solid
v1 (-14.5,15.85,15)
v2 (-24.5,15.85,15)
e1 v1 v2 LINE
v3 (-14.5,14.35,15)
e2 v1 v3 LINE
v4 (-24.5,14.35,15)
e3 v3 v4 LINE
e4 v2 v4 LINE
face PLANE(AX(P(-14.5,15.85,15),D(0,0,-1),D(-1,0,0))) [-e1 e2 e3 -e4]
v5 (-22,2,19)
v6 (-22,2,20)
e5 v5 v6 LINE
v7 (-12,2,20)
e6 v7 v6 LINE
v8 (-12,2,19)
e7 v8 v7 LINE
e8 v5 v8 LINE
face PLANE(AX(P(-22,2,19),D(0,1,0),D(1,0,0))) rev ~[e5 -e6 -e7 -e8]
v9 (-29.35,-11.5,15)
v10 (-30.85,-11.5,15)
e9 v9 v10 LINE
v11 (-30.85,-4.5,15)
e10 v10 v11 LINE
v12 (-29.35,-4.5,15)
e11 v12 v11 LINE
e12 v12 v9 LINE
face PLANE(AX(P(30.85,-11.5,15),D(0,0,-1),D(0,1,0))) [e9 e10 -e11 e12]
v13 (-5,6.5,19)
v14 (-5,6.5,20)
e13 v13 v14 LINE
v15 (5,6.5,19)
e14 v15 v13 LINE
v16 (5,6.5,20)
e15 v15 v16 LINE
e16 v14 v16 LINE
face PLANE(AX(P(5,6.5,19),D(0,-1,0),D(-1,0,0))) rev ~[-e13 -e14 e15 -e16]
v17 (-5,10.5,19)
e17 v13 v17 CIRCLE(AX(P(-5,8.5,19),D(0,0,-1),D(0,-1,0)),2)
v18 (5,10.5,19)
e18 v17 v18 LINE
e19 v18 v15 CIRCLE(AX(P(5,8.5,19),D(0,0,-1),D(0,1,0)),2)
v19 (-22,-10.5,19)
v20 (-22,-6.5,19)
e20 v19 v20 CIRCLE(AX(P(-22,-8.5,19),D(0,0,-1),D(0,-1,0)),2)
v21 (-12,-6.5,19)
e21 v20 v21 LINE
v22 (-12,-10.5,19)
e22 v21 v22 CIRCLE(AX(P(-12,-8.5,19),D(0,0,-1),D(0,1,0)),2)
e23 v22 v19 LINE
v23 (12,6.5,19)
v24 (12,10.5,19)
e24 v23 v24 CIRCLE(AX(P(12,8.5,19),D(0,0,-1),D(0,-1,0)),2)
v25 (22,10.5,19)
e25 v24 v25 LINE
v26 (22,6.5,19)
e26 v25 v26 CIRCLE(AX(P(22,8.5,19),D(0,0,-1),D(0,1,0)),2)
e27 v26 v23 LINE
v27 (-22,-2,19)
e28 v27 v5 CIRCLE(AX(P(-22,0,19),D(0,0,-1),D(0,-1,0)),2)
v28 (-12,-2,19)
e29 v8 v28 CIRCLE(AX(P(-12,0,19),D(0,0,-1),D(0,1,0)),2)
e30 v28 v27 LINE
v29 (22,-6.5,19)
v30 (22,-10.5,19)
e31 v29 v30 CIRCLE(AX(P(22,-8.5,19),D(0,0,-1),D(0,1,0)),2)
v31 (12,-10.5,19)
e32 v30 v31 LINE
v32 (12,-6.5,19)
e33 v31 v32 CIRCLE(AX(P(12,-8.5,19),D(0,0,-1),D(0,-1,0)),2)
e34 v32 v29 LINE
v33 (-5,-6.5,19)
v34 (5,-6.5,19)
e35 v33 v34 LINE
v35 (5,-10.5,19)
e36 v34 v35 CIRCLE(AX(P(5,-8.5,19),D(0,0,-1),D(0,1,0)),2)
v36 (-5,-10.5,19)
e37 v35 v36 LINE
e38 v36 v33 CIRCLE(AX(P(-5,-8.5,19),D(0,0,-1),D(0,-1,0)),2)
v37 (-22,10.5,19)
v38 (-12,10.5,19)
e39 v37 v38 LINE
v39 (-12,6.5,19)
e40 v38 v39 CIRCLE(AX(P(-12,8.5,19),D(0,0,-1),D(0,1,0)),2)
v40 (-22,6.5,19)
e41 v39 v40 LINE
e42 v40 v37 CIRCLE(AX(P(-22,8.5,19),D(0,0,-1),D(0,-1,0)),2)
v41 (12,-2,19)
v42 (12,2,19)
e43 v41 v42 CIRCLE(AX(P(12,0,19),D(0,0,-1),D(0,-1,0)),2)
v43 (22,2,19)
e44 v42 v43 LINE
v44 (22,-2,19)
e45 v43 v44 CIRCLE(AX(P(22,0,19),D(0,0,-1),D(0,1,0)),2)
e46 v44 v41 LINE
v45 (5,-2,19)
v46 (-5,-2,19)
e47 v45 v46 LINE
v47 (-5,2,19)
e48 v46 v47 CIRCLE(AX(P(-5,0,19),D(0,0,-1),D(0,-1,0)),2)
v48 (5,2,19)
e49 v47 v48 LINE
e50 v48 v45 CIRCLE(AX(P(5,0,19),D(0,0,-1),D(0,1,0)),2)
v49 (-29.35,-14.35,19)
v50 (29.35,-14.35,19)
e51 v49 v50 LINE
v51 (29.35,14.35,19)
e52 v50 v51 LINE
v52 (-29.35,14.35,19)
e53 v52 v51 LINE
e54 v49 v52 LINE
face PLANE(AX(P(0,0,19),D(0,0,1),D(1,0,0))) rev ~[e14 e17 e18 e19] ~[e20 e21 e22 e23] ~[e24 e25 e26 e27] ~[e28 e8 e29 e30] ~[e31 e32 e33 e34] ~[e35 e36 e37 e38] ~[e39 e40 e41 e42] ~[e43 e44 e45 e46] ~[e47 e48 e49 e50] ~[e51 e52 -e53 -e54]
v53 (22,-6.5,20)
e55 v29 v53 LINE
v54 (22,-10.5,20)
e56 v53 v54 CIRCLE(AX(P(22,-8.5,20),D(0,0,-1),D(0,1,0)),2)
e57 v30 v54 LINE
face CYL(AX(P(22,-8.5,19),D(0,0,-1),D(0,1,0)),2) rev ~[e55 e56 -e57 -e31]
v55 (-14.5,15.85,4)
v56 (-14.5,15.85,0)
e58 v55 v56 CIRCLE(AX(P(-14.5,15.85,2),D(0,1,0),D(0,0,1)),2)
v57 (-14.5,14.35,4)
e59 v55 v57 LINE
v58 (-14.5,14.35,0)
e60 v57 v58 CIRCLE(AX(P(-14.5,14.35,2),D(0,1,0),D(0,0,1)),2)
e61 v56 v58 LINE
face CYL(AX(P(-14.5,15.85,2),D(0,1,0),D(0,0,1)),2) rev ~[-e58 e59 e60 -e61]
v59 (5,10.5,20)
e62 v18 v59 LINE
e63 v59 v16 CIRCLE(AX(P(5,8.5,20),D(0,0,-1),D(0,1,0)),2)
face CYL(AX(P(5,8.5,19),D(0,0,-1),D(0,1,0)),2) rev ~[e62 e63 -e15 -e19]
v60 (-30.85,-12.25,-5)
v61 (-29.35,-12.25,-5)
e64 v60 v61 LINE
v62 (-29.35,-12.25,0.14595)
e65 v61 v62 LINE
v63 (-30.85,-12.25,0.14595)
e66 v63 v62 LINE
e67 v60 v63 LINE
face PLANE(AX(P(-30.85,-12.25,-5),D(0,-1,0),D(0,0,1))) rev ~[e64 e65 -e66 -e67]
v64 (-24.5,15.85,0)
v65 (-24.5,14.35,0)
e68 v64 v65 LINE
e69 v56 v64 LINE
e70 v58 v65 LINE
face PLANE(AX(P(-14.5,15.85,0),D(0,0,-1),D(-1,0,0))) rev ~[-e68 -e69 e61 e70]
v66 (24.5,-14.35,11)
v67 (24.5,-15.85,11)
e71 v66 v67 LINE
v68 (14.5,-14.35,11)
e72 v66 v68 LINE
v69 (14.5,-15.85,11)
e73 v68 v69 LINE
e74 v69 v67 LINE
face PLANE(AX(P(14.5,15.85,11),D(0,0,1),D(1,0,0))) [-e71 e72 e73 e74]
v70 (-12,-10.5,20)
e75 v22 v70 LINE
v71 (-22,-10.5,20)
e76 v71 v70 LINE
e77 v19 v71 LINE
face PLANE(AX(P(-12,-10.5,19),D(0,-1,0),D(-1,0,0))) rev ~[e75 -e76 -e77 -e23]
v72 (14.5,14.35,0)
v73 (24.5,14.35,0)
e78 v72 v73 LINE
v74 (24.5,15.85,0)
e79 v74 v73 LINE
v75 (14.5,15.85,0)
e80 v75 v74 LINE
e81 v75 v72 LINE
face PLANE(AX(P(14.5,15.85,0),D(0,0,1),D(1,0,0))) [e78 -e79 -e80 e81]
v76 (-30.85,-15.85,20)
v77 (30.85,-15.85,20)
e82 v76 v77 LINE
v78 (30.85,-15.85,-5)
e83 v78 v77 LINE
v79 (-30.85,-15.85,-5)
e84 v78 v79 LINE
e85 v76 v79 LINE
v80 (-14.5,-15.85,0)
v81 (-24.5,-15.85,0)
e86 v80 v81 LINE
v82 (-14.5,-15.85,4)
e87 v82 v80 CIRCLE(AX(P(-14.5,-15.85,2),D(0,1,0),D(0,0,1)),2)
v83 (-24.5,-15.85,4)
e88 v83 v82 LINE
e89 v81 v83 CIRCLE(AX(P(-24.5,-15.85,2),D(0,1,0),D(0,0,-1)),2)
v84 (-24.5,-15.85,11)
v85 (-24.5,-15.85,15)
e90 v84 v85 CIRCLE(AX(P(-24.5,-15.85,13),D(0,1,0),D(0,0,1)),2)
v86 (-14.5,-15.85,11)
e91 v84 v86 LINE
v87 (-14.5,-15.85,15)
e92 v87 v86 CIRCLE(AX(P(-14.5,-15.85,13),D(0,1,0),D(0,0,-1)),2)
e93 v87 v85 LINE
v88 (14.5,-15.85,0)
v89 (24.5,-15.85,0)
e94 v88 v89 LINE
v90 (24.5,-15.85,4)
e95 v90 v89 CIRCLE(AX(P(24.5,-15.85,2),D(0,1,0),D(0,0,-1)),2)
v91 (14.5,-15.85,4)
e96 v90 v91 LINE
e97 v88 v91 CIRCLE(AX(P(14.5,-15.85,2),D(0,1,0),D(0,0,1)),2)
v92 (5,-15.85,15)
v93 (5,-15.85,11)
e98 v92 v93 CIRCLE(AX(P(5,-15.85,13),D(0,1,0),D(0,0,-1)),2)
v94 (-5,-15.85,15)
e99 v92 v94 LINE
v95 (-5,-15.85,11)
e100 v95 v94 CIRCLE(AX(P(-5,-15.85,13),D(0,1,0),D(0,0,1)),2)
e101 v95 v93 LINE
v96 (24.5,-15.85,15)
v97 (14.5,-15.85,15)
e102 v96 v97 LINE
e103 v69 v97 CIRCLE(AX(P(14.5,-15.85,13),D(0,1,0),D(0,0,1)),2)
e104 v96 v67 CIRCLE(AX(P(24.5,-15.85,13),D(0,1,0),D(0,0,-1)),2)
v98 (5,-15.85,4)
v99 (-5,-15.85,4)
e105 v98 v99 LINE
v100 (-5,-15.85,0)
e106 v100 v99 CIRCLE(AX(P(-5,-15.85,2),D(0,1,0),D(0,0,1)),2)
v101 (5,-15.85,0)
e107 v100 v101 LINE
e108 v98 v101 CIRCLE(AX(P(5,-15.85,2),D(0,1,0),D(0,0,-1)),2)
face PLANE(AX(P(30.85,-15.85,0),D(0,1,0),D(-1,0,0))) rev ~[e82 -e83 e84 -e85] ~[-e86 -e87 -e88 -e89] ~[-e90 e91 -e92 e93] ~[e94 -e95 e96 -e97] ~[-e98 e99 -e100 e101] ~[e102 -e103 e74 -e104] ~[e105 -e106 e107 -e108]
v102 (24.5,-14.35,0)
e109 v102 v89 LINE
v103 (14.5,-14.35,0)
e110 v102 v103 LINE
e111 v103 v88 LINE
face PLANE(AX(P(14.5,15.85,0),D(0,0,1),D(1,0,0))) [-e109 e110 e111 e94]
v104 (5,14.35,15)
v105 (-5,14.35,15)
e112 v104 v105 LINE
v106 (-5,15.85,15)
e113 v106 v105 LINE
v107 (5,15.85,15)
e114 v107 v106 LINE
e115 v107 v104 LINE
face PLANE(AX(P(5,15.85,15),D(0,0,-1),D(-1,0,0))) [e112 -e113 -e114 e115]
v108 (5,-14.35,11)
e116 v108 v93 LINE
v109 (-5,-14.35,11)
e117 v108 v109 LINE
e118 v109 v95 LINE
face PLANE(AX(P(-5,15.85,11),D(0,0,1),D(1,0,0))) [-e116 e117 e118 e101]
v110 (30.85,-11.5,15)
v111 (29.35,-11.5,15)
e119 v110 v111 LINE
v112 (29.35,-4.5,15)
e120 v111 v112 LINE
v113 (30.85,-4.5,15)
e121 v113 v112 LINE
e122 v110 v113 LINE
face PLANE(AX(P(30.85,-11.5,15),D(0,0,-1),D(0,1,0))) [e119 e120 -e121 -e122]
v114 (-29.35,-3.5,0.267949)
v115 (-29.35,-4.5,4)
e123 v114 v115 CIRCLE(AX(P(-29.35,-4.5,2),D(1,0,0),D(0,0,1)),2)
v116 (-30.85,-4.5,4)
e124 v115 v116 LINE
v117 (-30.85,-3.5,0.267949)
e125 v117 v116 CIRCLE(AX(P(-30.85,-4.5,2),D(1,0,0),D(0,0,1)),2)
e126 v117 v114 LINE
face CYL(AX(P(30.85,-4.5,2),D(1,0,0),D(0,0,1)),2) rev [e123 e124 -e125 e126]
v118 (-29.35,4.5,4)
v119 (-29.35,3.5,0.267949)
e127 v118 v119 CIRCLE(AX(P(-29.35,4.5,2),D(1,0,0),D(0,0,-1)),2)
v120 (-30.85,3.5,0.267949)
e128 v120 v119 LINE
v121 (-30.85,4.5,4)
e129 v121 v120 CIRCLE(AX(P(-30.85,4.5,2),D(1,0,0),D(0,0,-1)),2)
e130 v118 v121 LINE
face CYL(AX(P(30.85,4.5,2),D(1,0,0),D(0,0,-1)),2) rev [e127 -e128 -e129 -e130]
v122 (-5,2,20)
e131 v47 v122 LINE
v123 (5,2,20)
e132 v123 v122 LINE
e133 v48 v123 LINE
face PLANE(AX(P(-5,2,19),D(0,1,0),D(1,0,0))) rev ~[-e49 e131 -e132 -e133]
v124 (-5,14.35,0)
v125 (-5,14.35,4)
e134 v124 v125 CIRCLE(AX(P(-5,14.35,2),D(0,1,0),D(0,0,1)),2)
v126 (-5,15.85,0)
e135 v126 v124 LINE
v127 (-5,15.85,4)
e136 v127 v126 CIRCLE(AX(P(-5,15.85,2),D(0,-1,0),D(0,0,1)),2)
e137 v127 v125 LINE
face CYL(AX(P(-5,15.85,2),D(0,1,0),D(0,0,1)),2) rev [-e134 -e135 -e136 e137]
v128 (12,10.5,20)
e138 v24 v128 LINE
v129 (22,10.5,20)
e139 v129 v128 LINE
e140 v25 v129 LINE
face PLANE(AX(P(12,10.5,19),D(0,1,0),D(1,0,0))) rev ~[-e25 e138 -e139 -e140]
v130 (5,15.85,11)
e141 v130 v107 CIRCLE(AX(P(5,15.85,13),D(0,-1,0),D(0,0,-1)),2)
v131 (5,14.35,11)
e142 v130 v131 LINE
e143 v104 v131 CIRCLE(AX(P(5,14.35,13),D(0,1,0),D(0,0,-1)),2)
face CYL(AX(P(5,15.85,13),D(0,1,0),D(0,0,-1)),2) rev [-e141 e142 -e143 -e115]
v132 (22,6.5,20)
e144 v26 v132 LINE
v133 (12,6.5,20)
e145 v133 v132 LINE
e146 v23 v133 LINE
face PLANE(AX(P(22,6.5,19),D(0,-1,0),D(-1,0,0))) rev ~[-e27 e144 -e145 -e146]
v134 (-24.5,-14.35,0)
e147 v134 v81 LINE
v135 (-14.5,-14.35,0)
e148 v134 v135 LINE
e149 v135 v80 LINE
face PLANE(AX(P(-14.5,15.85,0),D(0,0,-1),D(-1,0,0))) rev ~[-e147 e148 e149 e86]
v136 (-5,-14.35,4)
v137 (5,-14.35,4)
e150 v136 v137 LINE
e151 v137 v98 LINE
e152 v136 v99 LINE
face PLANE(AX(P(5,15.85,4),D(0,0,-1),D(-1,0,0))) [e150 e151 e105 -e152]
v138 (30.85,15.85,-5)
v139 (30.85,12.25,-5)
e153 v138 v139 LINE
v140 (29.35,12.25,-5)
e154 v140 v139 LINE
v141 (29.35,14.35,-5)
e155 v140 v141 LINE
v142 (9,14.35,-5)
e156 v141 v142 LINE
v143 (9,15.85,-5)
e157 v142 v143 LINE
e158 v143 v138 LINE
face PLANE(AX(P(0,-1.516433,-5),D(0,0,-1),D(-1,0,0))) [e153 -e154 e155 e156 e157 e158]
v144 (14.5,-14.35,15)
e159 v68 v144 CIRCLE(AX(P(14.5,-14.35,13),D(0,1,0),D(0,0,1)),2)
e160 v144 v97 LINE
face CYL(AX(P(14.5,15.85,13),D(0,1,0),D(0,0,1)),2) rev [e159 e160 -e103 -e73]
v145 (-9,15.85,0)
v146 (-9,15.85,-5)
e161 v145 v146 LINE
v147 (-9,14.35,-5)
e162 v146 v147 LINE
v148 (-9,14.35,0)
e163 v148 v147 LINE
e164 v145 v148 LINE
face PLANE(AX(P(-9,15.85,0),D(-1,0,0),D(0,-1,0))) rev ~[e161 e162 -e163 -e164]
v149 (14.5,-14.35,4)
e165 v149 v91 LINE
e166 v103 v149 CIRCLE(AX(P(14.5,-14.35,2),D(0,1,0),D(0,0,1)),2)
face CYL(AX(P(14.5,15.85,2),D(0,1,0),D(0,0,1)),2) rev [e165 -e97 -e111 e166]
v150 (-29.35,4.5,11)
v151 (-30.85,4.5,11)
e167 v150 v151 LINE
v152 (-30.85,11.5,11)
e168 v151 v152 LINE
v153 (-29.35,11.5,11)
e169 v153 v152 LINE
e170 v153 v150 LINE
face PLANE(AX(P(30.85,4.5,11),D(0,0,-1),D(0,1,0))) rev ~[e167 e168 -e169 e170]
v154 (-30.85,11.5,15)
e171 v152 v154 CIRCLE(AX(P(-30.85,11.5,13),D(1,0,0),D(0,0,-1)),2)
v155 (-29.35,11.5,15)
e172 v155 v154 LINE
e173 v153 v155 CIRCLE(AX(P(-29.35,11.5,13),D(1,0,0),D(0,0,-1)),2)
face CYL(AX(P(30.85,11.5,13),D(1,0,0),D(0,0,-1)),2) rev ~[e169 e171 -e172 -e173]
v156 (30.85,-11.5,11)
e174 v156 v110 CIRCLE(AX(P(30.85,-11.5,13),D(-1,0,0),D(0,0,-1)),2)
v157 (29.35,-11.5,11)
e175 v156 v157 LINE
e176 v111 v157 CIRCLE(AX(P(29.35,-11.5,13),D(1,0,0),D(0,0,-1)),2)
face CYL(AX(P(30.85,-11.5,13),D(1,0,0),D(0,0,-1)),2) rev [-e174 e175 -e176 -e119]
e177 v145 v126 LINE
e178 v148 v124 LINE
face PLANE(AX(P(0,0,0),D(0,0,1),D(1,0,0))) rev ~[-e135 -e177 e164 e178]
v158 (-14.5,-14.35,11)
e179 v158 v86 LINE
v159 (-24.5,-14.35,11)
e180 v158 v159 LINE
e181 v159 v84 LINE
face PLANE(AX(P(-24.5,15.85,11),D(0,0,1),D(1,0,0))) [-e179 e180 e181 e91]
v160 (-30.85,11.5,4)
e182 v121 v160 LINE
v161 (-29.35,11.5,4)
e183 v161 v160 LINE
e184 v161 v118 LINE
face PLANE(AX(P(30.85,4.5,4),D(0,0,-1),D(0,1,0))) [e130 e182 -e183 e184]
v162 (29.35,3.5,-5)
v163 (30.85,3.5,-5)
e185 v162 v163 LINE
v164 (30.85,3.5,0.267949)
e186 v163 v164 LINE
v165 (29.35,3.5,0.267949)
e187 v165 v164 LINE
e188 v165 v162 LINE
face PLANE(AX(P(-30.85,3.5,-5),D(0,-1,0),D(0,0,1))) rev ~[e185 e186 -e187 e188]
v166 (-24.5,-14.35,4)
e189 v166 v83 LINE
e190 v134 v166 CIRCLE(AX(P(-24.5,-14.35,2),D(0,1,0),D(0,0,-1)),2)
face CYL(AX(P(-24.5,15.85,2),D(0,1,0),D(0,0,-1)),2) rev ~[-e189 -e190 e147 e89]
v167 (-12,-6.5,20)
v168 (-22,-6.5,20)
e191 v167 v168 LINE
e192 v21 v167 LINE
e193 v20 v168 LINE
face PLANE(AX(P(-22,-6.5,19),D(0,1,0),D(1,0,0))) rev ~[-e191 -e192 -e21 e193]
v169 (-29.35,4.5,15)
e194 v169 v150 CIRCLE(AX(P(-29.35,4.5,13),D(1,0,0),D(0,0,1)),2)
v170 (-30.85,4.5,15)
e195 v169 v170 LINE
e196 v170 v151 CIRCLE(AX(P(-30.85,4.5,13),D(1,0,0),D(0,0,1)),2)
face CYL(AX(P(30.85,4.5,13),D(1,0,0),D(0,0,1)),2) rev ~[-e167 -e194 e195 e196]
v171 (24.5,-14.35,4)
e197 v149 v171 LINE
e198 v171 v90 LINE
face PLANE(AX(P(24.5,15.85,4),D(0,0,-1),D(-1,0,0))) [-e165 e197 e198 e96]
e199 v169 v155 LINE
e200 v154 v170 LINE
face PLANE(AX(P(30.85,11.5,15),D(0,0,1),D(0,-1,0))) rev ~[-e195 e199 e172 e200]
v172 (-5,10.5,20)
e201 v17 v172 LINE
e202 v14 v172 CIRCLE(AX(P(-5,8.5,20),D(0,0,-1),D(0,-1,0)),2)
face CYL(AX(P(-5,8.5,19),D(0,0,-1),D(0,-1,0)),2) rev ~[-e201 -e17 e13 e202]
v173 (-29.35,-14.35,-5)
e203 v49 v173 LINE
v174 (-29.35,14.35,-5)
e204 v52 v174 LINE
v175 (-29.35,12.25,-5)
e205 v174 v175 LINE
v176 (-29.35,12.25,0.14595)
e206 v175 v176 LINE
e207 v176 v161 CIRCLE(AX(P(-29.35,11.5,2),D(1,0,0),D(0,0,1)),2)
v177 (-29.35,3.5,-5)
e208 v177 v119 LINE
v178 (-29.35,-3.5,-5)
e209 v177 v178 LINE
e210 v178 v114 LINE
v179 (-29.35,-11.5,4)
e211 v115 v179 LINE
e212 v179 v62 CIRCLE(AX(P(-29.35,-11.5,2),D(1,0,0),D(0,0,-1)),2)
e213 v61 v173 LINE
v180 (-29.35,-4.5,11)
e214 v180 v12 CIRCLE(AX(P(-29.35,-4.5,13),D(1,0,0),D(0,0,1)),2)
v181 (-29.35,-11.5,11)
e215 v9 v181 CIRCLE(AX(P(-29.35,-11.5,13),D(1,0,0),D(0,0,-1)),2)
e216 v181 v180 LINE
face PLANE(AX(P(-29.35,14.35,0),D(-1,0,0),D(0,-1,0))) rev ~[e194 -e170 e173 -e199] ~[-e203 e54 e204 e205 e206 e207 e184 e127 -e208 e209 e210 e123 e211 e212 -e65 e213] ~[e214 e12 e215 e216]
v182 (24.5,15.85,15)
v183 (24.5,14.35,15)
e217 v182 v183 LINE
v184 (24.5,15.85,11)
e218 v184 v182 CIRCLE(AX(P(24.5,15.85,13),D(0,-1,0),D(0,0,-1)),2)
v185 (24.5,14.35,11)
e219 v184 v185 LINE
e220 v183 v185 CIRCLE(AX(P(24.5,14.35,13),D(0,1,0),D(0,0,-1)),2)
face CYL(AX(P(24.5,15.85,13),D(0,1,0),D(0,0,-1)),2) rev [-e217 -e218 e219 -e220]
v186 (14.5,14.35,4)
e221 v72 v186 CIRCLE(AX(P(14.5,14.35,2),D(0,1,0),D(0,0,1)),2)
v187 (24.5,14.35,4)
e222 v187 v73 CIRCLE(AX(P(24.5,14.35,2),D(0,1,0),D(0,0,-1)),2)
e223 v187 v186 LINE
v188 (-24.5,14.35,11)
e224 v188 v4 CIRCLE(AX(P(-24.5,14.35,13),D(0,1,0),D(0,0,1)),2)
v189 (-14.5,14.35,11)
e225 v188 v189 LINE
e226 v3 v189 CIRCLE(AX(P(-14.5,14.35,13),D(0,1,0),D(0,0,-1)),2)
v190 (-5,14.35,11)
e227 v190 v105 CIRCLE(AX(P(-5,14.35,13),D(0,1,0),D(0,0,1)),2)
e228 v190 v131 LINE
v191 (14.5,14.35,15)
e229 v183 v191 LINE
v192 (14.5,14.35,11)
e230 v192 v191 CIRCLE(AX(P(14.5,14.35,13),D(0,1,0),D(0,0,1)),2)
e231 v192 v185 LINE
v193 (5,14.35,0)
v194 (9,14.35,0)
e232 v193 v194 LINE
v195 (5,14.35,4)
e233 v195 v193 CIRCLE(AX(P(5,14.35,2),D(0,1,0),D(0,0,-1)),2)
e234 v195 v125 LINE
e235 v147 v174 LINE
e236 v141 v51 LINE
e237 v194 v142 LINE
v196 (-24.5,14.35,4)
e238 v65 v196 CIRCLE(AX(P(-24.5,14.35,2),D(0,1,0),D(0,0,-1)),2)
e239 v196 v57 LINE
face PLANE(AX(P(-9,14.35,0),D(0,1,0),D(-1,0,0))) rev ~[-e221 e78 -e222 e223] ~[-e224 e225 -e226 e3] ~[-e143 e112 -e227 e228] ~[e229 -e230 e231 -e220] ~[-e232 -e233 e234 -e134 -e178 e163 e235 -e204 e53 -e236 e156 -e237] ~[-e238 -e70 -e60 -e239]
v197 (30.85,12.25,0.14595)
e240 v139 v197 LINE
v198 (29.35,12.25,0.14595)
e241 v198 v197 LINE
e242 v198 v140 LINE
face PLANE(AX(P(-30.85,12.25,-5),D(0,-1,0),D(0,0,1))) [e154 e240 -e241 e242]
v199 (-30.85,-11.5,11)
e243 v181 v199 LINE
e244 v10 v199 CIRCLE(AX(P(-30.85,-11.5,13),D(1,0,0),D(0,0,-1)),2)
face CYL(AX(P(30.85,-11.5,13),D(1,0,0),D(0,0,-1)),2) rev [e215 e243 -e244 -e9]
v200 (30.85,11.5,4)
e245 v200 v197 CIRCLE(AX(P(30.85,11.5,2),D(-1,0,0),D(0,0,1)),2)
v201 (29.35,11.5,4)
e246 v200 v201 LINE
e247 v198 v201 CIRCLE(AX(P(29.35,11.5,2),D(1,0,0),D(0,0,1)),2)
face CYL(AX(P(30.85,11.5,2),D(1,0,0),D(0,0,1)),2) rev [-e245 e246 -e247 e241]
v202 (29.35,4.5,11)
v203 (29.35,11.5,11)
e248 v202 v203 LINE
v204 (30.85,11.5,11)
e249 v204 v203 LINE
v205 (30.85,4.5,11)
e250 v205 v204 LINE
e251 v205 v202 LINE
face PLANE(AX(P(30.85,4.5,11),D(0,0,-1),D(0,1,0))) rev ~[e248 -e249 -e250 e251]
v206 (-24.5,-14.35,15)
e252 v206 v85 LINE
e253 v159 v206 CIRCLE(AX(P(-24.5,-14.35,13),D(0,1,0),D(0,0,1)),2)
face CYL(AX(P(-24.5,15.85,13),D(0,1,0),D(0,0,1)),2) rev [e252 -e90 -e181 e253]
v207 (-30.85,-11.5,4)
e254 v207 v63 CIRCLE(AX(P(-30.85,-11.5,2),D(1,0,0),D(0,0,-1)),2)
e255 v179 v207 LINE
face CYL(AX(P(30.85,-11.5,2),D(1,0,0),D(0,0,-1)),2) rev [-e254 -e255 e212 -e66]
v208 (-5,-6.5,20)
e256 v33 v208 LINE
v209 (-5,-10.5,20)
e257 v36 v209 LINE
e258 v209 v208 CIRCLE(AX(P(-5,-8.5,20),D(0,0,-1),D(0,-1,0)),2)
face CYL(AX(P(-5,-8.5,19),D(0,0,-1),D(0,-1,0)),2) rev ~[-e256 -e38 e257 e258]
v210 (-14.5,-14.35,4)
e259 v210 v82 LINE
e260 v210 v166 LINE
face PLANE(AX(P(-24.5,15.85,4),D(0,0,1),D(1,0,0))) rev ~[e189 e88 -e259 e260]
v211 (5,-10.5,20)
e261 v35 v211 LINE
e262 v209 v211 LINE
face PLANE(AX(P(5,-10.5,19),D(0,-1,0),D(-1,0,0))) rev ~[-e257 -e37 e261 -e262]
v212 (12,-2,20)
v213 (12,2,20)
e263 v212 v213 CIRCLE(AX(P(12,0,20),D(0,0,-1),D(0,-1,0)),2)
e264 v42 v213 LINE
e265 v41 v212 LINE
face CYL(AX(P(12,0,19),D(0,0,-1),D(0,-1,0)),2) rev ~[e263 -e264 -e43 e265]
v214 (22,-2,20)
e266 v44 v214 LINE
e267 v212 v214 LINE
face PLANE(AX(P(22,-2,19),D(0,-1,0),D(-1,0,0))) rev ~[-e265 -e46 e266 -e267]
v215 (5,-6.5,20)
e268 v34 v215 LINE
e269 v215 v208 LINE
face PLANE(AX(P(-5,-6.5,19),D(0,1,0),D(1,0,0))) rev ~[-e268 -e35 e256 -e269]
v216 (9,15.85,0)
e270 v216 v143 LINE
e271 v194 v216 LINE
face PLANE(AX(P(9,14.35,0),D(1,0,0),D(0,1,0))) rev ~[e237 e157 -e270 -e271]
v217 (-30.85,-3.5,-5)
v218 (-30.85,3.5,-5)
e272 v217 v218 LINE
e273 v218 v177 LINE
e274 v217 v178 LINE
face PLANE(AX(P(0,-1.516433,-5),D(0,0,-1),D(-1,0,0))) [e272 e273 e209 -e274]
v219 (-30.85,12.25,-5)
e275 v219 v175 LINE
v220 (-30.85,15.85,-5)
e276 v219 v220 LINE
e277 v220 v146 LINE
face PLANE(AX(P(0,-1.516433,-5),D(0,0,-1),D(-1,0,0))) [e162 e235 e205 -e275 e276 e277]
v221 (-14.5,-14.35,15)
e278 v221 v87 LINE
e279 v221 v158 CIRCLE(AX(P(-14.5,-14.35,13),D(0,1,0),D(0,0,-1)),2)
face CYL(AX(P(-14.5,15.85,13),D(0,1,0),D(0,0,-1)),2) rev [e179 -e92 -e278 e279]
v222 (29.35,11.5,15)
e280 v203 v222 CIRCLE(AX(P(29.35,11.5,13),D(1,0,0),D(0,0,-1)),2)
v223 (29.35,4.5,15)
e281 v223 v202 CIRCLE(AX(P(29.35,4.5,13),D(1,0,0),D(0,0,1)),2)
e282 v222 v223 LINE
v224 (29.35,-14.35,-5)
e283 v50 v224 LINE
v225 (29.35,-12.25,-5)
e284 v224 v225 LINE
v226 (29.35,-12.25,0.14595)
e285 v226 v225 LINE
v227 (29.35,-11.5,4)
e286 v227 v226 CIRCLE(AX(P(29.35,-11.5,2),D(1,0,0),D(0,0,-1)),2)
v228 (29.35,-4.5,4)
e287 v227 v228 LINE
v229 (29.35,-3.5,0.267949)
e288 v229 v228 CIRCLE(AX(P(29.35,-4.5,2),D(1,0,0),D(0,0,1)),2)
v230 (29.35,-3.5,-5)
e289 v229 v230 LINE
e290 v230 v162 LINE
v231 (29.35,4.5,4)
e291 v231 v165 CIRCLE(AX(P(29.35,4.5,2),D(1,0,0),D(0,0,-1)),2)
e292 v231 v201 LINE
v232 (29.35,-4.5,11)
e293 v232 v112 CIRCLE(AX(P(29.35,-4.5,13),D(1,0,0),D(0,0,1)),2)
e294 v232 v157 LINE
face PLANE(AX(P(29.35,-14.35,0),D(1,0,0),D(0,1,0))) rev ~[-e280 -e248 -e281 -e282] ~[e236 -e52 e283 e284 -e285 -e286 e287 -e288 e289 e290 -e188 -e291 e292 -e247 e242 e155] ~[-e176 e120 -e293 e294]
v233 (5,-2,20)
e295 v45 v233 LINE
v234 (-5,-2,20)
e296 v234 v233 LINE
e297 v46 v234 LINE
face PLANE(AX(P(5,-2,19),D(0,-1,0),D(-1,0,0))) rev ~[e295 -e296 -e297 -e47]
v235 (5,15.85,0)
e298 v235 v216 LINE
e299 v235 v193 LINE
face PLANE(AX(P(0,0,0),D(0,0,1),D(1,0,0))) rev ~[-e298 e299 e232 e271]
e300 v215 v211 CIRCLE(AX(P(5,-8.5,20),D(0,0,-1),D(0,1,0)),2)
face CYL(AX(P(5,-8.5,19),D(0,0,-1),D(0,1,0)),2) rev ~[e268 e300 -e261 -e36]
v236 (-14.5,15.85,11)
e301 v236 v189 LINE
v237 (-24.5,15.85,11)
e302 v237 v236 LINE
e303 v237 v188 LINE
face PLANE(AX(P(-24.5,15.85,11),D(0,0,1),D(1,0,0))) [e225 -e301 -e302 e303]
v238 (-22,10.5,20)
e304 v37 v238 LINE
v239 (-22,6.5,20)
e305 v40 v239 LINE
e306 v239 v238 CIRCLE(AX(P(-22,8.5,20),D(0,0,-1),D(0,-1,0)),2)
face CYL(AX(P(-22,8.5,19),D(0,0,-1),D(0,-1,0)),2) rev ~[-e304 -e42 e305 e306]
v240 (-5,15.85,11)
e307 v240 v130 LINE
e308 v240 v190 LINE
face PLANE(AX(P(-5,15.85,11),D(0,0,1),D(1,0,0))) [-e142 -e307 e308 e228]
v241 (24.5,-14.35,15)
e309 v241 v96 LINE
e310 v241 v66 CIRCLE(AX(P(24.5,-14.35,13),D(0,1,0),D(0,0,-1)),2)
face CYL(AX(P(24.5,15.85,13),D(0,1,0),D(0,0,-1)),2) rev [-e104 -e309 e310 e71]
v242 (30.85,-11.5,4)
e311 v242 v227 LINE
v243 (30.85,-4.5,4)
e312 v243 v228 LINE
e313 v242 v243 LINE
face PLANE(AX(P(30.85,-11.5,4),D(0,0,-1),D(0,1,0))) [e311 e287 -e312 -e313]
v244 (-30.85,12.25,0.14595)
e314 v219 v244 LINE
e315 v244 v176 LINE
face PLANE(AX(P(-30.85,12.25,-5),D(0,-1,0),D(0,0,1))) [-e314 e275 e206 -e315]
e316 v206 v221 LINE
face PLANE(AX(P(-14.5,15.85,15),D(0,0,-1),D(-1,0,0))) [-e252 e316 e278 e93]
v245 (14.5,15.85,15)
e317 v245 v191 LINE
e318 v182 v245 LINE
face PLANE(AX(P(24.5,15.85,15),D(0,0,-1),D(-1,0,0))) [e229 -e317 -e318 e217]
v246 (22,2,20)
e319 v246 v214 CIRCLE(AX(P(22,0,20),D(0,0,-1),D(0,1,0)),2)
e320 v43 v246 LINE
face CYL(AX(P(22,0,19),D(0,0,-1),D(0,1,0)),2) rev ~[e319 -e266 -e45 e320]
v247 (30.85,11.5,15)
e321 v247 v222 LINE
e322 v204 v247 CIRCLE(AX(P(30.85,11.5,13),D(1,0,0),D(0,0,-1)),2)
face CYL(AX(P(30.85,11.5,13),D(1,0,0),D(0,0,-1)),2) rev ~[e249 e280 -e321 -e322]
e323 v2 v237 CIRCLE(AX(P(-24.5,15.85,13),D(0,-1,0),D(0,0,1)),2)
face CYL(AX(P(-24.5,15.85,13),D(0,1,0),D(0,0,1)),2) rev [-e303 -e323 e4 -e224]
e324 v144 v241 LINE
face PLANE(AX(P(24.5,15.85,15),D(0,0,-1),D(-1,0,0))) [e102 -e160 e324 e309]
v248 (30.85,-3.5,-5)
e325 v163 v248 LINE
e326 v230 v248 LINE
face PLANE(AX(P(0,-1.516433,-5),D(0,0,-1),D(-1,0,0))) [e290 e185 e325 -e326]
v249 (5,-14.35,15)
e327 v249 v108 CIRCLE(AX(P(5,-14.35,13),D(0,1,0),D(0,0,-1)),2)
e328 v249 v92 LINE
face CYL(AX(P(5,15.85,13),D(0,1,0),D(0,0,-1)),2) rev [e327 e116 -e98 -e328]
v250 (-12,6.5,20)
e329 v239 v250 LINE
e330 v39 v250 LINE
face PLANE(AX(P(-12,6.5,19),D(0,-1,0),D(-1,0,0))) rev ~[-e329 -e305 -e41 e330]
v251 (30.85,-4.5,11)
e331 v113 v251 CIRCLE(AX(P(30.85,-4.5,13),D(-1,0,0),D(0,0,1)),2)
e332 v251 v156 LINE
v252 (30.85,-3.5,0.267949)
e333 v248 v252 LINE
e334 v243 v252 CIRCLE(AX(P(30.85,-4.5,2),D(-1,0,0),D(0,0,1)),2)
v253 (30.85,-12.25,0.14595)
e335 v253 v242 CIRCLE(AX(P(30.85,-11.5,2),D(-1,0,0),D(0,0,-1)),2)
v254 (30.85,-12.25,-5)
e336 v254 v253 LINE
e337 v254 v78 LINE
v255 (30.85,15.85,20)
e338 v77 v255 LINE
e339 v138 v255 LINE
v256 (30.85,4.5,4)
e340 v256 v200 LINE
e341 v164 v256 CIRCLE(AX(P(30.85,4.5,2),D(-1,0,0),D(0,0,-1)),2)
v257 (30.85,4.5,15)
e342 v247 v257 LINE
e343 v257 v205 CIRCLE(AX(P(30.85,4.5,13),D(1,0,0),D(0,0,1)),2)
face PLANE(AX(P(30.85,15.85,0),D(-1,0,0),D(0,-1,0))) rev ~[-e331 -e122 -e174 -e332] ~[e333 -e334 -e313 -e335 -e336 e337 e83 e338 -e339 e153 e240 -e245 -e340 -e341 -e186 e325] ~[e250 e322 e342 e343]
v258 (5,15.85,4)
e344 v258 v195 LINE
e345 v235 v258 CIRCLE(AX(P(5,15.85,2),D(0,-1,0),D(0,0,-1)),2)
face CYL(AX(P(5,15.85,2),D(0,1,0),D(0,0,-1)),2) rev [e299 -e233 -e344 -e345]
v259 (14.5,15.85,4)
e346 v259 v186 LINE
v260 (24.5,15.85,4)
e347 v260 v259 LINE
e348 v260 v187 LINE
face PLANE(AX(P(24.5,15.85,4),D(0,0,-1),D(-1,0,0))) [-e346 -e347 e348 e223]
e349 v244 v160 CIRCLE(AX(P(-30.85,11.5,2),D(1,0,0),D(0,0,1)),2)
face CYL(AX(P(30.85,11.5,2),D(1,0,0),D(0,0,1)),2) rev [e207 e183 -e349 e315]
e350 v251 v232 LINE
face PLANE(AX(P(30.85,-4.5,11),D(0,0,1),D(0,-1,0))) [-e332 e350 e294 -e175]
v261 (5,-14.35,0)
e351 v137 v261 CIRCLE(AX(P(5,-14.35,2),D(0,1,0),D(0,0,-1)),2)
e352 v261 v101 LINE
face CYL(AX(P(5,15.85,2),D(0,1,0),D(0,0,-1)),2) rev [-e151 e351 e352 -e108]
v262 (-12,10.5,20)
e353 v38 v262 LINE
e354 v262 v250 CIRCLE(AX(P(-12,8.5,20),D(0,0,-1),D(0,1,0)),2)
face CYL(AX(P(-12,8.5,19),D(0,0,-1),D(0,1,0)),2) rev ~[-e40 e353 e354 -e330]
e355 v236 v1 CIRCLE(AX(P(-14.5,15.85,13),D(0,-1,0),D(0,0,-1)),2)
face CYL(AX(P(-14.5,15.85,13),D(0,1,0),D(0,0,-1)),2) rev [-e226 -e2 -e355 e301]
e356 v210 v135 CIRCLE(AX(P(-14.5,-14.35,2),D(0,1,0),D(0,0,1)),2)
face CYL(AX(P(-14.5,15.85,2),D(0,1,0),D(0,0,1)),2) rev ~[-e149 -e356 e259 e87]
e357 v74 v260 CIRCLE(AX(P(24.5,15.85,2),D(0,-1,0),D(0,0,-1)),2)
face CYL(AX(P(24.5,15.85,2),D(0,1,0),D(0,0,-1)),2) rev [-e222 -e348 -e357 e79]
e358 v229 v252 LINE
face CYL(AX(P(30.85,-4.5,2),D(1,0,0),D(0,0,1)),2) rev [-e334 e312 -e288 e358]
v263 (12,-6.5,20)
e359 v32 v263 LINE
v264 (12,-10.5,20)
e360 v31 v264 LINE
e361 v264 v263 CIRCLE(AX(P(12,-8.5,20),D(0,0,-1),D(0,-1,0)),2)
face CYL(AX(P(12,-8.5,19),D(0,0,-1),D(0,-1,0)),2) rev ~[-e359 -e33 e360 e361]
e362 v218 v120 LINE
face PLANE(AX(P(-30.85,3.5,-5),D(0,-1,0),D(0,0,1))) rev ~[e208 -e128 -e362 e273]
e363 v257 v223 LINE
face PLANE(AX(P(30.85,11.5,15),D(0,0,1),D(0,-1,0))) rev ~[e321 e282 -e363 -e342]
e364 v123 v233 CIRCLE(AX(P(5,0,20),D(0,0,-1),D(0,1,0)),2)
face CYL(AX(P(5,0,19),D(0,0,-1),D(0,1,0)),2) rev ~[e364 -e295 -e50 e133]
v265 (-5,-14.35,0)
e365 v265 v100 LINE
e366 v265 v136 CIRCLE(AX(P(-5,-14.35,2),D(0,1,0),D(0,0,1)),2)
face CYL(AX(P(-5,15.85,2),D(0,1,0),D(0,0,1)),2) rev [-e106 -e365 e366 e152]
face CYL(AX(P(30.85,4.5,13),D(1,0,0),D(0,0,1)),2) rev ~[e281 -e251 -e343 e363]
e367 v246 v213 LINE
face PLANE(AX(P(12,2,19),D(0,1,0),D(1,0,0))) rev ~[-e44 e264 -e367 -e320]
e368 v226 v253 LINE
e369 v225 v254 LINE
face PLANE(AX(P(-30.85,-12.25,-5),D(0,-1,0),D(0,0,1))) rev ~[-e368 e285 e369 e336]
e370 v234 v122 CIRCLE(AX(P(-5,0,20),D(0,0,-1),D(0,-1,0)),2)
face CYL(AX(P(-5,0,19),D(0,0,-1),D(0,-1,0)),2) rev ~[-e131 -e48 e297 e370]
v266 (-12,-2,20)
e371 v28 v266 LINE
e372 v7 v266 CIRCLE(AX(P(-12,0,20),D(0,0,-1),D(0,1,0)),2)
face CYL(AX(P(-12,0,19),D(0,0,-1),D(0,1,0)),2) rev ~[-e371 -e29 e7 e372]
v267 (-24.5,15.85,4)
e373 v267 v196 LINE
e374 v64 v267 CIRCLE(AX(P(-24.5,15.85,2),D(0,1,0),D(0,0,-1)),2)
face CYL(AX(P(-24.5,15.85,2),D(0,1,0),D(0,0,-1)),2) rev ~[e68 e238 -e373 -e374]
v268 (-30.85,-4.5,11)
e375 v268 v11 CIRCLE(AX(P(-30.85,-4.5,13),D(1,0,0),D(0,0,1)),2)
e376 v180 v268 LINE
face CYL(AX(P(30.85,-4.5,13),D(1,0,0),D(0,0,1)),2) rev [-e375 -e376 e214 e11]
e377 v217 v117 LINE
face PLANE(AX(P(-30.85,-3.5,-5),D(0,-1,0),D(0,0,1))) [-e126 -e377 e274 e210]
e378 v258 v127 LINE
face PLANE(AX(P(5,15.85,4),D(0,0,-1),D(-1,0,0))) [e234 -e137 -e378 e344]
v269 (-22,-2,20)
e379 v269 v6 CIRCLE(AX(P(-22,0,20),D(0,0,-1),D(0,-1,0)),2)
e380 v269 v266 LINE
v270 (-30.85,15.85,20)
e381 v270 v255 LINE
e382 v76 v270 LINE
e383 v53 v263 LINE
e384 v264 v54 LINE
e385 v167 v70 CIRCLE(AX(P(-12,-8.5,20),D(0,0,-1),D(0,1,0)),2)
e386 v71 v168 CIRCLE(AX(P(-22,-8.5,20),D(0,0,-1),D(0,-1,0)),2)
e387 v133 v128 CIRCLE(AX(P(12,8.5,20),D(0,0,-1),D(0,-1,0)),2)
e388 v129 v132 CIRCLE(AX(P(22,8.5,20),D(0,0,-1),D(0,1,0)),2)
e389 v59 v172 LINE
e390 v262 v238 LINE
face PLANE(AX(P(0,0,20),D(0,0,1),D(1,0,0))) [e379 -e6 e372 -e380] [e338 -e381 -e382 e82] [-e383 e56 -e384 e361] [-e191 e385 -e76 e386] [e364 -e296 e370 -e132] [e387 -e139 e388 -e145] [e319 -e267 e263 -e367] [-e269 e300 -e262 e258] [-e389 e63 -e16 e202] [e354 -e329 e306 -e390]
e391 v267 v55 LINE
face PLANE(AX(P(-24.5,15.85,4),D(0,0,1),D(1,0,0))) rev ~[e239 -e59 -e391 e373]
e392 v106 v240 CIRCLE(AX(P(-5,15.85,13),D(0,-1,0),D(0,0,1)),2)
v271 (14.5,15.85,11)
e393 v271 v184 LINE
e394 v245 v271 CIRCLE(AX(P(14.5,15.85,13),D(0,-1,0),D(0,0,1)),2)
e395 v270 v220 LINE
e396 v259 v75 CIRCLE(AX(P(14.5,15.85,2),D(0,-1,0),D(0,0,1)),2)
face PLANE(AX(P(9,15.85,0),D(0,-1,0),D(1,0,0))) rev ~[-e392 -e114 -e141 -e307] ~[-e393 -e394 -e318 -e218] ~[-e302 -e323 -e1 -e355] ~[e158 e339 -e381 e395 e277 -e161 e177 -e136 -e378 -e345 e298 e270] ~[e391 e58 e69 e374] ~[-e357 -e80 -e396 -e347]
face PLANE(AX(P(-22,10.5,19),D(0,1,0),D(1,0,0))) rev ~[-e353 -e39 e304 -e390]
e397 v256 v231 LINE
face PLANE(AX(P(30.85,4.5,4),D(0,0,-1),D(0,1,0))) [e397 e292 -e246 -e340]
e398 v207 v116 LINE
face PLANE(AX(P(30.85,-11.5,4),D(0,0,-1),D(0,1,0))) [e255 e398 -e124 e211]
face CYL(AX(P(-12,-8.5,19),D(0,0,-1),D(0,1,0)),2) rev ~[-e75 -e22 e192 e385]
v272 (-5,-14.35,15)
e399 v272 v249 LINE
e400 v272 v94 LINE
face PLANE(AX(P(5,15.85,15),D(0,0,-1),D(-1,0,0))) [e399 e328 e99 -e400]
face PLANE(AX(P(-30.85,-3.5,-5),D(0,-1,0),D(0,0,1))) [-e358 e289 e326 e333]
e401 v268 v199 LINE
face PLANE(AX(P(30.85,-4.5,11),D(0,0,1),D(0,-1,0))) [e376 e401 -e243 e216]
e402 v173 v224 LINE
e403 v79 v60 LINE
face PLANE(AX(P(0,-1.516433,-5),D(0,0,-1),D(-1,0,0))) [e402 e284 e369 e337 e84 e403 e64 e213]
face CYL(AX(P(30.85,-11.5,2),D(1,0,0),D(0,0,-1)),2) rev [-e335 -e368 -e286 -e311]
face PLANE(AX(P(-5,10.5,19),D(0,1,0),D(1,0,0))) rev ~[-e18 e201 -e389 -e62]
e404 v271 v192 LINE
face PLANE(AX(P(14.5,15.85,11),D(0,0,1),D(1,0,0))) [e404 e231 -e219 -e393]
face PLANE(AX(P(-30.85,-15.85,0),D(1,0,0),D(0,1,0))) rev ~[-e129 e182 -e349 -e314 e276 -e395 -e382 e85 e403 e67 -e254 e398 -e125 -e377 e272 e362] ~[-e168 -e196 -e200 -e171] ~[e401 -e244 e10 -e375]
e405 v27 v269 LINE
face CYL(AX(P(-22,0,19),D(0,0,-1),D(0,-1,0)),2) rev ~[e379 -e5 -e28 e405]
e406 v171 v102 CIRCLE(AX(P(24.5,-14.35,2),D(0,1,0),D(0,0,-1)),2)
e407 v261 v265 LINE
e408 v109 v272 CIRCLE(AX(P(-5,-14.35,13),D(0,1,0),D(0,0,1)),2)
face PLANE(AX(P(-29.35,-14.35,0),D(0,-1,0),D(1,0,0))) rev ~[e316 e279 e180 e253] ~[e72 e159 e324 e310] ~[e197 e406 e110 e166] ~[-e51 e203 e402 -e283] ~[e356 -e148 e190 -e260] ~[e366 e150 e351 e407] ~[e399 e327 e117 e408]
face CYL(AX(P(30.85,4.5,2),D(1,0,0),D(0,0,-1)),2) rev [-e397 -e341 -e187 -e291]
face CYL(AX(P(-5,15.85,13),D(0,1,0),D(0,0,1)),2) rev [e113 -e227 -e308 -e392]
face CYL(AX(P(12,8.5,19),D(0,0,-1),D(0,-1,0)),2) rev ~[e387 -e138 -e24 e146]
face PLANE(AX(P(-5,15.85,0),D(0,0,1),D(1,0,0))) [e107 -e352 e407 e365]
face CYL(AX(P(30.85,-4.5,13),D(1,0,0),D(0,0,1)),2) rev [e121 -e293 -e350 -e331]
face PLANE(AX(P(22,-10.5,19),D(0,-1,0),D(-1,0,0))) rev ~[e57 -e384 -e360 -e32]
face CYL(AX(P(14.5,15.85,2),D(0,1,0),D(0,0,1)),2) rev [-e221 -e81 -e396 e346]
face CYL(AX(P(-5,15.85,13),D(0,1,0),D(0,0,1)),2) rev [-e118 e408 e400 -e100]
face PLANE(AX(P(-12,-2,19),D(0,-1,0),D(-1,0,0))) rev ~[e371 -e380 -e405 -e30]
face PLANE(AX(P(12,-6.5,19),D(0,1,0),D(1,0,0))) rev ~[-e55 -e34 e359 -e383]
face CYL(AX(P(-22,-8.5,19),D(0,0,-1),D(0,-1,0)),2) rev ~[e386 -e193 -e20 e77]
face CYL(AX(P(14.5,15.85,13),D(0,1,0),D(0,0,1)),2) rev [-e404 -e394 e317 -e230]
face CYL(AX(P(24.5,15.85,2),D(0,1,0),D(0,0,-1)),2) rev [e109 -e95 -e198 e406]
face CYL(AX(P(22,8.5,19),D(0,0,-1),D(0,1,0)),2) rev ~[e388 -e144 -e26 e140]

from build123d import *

# Parameters (mm, degrees)
SKETCH1_W           = 61.7
SKETCH1_H           = 31.7
SKETCH1_W_2         = 58.7
SKETCH1_H_2         = 28.7
BOSS_EXTRUDE1_DEPTH = 19
SKETCH2_W           = 61.7
SKETCH2_H           = 31.7
BOSS_EXTRUDE2_DEPTH = 1
BOSS_EXTRUDE3_DEPTH = 5
CUT_EXTRUDE4_DEPTH  = 2
CUT_EXTRUDE2_DEPTH  = 32.7
CUT_EXTRUDE3_DEPTH  = 62.7
SKETCH9_W           = 7
SKETCH9_H           = 8.75
CUT_EXTRUDE5_DEPTH  = 62.7


with BuildPart() as part:
    # Sketch1 → Boss-Extrude1 (new body)
    with BuildSketch(Plane.XY):
        Rectangle(SKETCH1_W, SKETCH1_H)
        Rectangle(SKETCH1_W_2, SKETCH1_H_2, mode=Mode.SUBTRACT)
    extrude(amount=BOSS_EXTRUDE1_DEPTH)

    # Sketch2 → Boss-Extrude2 (add)
    with BuildSketch(Plane.XY.offset(19)):
        Rectangle(SKETCH2_W, SKETCH2_H)
    extrude(amount=BOSS_EXTRUDE2_DEPTH)

    # Sketch3 → Boss-Extrude3 (add)
    with BuildSketch(Plane(origin=(0, 0, 0), x_dir=(-1, 0, 0), z_dir=(0, 0, -1))):
        Polygon((-30.85, -15.85), (30.85, -15.85), (30.85, 15.85), (9, 15.85), (9, 14.35), (29.35, 14.35), (29.35, -14.35), (-29.35, -14.35), (-29.35, 14.35), (-9, 14.35), (-9, 15.85), (-30.85, 15.85), align=None)
    extrude(amount=BOSS_EXTRUDE3_DEPTH)

    # Sketch8 → Cut-Extrude4 (cut, through all)
    with BuildSketch(Plane(origin=(0, 0, 19), x_dir=(-1, 0, 0), z_dir=(0, 0, -1))):
        with BuildLine():
            Line((12, 6.5), (22, 6.5))
            ThreePointArc((22, 6.5), (24, 8.5), (22, 10.5))
            Line((22, 10.5), (12, 10.5))
            ThreePointArc((12, 10.5), (10, 8.5), (12, 6.5))
        make_face()
        with BuildLine():
            Line((12, -2), (22, -2))
            ThreePointArc((22, -2), (24, 0), (22, 2))
            Line((22, 2), (12, 2))
            ThreePointArc((12, 2), (10, 0), (12, -2))
        make_face()
        with BuildLine():
            Line((12, -10.5), (22, -10.5))
            ThreePointArc((22, -10.5), (24, -8.5), (22, -6.5))
            Line((22, -6.5), (12, -6.5))
            ThreePointArc((12, -6.5), (10, -8.5), (12, -10.5))
        make_face()
        with BuildLine():
            Line((-5, -10.5), (5, -10.5))
            ThreePointArc((5, -10.5), (7, -8.5), (5, -6.5))
            Line((5, -6.5), (-5, -6.5))
            ThreePointArc((-5, -6.5), (-7, -8.5), (-5, -10.5))
        make_face()
        with BuildLine():
            Line((-22, -10.5), (-12, -10.5))
            ThreePointArc((-12, -10.5), (-10, -8.5), (-12, -6.5))
            Line((-12, -6.5), (-22, -6.5))
            ThreePointArc((-22, -6.5), (-24, -8.5), (-22, -10.5))
        make_face()
        with BuildLine():
            Line((-22, -2), (-12, -2))
            ThreePointArc((-12, -2), (-10, 0), (-12, 2))
            Line((-12, 2), (-22, 2))
            ThreePointArc((-22, 2), (-24, 0), (-22, -2))
        make_face()
        with BuildLine():
            Line((-5, 6.5), (5, 6.5))
            ThreePointArc((5, 6.5), (7, 8.5), (5, 10.5))
            Line((5, 10.5), (-5, 10.5))
            ThreePointArc((-5, 10.5), (-7, 8.5), (-5, 6.5))
        make_face()
        with BuildLine():
            Line((-22, 6.5), (-12, 6.5))
            ThreePointArc((-12, 6.5), (-10, 8.5), (-12, 10.5))
            Line((-12, 10.5), (-22, 10.5))
            ThreePointArc((-22, 10.5), (-24, 8.5), (-22, 6.5))
        make_face()
        with BuildLine():
            Line((-5, -2), (5, -2))
            ThreePointArc((5, -2), (7, 0), (5, 2))
            Line((5, 2), (-5, 2))
            ThreePointArc((-5, 2), (-7, 0), (-5, -2))
        make_face()
    extrude(amount=-CUT_EXTRUDE4_DEPTH, mode=Mode.SUBTRACT)

    # Sketch5 → Cut-Extrude2 (cut, through all)
    with BuildSketch(Plane(origin=(-15, 15.85, 0), x_dir=(1, 0, 0), z_dir=(0, -1, 0))):
        with BuildLine():
            Line((-9.5, 4), (0.5, 4))
            ThreePointArc((0.5, 4), (2.5, 2), (0.5, 0))
            Line((0.5, 0), (-9.5, 0))
            ThreePointArc((-9.5, 0), (-11.5, 2), (-9.5, 4))
        make_face()
        with BuildLine():
            Line((10, 0), (20, 0))
            ThreePointArc((20, 0), (22, 2), (20, 4))
            Line((20, 4), (10, 4))
            ThreePointArc((10, 4), (8, 2), (10, 0))
        make_face()
        with BuildLine():
            Line((29.5, 0), (39.5, 0))
            ThreePointArc((39.5, 0), (41.5, 2), (39.5, 4))
            Line((39.5, 4), (29.5, 4))
            ThreePointArc((29.5, 4), (27.5, 2), (29.5, 0))
        make_face()
        with BuildLine():
            Line((10, 11), (20, 11))
            ThreePointArc((20, 11), (22, 13), (20, 15))
            Line((20, 15), (10, 15))
            ThreePointArc((10, 15), (8, 13), (10, 11))
        make_face()
        with BuildLine():
            Line((29.5, 11), (39.5, 11))
            ThreePointArc((39.5, 11), (41.5, 13), (39.5, 15))
            Line((39.5, 15), (29.5, 15))
            ThreePointArc((29.5, 15), (27.5, 13), (29.5, 11))
        make_face()
        with BuildLine():
            Line((-9.5, 11), (0.5, 11))
            ThreePointArc((0.5, 11), (2.5, 13), (0.5, 15))
            Line((0.5, 15), (-9.5, 15))
            ThreePointArc((-9.5, 15), (-11.5, 13), (-9.5, 11))
        make_face()
    extrude(amount=CUT_EXTRUDE2_DEPTH, mode=Mode.SUBTRACT)

    # Sketch7 → Cut-Extrude3 (cut, through all)
    with BuildSketch(Plane(origin=(30.85, -15, 0), x_dir=(0, 0, -1), z_dir=(-1, 0, 0))):
        with BuildLine():
            Line((-15, -26.5), (-15, -19.5))
            ThreePointArc((-15, -19.5), (-13, -17.5), (-11, -19.5))
            Line((-11, -19.5), (-11, -26.5))
            ThreePointArc((-11, -26.5), (-13, -28.5), (-15, -26.5))
        make_face()
        with BuildLine():
            Line((0, -26.5), (0, -19.5))
            ThreePointArc((0, -19.5), (-2, -17.5), (-4, -19.5))
            Line((-4, -19.5), (-4, -26.5))
            ThreePointArc((-4, -26.5), (-2, -28.5), (0, -26.5))
        make_face()
        with BuildLine():
            Line((0, -10.5), (0, -3.5))
            ThreePointArc((0, -3.5), (-2, -1.5), (-4, -3.5))
            Line((-4, -3.5), (-4, -10.5))
            ThreePointArc((-4, -10.5), (-2, -12.5), (0, -10.5))
        make_face()
        with BuildLine():
            Line((-11, -10.5), (-11, -3.5))
            ThreePointArc((-11, -3.5), (-13, -1.5), (-15, -3.5))
            Line((-15, -3.5), (-15, -10.5))
            ThreePointArc((-15, -10.5), (-13, -12.5), (-11, -10.5))
        make_face()
    extrude(amount=CUT_EXTRUDE3_DEPTH, mode=Mode.SUBTRACT)

    # Sketch9 → Cut-Extrude5 (cut, through all)
    with BuildSketch(Plane.ZY.offset(30.85)):
        with Locations((-1.5, 7.875)):
            Rectangle(SKETCH9_W, SKETCH9_H)
        with Locations((-1.5, -7.875)):
            Rectangle(SKETCH9_W, SKETCH9_H)
    extrude(amount=-CUT_EXTRUDE5_DEPTH, mode=Mode.SUBTRACT)


solid = part.part
